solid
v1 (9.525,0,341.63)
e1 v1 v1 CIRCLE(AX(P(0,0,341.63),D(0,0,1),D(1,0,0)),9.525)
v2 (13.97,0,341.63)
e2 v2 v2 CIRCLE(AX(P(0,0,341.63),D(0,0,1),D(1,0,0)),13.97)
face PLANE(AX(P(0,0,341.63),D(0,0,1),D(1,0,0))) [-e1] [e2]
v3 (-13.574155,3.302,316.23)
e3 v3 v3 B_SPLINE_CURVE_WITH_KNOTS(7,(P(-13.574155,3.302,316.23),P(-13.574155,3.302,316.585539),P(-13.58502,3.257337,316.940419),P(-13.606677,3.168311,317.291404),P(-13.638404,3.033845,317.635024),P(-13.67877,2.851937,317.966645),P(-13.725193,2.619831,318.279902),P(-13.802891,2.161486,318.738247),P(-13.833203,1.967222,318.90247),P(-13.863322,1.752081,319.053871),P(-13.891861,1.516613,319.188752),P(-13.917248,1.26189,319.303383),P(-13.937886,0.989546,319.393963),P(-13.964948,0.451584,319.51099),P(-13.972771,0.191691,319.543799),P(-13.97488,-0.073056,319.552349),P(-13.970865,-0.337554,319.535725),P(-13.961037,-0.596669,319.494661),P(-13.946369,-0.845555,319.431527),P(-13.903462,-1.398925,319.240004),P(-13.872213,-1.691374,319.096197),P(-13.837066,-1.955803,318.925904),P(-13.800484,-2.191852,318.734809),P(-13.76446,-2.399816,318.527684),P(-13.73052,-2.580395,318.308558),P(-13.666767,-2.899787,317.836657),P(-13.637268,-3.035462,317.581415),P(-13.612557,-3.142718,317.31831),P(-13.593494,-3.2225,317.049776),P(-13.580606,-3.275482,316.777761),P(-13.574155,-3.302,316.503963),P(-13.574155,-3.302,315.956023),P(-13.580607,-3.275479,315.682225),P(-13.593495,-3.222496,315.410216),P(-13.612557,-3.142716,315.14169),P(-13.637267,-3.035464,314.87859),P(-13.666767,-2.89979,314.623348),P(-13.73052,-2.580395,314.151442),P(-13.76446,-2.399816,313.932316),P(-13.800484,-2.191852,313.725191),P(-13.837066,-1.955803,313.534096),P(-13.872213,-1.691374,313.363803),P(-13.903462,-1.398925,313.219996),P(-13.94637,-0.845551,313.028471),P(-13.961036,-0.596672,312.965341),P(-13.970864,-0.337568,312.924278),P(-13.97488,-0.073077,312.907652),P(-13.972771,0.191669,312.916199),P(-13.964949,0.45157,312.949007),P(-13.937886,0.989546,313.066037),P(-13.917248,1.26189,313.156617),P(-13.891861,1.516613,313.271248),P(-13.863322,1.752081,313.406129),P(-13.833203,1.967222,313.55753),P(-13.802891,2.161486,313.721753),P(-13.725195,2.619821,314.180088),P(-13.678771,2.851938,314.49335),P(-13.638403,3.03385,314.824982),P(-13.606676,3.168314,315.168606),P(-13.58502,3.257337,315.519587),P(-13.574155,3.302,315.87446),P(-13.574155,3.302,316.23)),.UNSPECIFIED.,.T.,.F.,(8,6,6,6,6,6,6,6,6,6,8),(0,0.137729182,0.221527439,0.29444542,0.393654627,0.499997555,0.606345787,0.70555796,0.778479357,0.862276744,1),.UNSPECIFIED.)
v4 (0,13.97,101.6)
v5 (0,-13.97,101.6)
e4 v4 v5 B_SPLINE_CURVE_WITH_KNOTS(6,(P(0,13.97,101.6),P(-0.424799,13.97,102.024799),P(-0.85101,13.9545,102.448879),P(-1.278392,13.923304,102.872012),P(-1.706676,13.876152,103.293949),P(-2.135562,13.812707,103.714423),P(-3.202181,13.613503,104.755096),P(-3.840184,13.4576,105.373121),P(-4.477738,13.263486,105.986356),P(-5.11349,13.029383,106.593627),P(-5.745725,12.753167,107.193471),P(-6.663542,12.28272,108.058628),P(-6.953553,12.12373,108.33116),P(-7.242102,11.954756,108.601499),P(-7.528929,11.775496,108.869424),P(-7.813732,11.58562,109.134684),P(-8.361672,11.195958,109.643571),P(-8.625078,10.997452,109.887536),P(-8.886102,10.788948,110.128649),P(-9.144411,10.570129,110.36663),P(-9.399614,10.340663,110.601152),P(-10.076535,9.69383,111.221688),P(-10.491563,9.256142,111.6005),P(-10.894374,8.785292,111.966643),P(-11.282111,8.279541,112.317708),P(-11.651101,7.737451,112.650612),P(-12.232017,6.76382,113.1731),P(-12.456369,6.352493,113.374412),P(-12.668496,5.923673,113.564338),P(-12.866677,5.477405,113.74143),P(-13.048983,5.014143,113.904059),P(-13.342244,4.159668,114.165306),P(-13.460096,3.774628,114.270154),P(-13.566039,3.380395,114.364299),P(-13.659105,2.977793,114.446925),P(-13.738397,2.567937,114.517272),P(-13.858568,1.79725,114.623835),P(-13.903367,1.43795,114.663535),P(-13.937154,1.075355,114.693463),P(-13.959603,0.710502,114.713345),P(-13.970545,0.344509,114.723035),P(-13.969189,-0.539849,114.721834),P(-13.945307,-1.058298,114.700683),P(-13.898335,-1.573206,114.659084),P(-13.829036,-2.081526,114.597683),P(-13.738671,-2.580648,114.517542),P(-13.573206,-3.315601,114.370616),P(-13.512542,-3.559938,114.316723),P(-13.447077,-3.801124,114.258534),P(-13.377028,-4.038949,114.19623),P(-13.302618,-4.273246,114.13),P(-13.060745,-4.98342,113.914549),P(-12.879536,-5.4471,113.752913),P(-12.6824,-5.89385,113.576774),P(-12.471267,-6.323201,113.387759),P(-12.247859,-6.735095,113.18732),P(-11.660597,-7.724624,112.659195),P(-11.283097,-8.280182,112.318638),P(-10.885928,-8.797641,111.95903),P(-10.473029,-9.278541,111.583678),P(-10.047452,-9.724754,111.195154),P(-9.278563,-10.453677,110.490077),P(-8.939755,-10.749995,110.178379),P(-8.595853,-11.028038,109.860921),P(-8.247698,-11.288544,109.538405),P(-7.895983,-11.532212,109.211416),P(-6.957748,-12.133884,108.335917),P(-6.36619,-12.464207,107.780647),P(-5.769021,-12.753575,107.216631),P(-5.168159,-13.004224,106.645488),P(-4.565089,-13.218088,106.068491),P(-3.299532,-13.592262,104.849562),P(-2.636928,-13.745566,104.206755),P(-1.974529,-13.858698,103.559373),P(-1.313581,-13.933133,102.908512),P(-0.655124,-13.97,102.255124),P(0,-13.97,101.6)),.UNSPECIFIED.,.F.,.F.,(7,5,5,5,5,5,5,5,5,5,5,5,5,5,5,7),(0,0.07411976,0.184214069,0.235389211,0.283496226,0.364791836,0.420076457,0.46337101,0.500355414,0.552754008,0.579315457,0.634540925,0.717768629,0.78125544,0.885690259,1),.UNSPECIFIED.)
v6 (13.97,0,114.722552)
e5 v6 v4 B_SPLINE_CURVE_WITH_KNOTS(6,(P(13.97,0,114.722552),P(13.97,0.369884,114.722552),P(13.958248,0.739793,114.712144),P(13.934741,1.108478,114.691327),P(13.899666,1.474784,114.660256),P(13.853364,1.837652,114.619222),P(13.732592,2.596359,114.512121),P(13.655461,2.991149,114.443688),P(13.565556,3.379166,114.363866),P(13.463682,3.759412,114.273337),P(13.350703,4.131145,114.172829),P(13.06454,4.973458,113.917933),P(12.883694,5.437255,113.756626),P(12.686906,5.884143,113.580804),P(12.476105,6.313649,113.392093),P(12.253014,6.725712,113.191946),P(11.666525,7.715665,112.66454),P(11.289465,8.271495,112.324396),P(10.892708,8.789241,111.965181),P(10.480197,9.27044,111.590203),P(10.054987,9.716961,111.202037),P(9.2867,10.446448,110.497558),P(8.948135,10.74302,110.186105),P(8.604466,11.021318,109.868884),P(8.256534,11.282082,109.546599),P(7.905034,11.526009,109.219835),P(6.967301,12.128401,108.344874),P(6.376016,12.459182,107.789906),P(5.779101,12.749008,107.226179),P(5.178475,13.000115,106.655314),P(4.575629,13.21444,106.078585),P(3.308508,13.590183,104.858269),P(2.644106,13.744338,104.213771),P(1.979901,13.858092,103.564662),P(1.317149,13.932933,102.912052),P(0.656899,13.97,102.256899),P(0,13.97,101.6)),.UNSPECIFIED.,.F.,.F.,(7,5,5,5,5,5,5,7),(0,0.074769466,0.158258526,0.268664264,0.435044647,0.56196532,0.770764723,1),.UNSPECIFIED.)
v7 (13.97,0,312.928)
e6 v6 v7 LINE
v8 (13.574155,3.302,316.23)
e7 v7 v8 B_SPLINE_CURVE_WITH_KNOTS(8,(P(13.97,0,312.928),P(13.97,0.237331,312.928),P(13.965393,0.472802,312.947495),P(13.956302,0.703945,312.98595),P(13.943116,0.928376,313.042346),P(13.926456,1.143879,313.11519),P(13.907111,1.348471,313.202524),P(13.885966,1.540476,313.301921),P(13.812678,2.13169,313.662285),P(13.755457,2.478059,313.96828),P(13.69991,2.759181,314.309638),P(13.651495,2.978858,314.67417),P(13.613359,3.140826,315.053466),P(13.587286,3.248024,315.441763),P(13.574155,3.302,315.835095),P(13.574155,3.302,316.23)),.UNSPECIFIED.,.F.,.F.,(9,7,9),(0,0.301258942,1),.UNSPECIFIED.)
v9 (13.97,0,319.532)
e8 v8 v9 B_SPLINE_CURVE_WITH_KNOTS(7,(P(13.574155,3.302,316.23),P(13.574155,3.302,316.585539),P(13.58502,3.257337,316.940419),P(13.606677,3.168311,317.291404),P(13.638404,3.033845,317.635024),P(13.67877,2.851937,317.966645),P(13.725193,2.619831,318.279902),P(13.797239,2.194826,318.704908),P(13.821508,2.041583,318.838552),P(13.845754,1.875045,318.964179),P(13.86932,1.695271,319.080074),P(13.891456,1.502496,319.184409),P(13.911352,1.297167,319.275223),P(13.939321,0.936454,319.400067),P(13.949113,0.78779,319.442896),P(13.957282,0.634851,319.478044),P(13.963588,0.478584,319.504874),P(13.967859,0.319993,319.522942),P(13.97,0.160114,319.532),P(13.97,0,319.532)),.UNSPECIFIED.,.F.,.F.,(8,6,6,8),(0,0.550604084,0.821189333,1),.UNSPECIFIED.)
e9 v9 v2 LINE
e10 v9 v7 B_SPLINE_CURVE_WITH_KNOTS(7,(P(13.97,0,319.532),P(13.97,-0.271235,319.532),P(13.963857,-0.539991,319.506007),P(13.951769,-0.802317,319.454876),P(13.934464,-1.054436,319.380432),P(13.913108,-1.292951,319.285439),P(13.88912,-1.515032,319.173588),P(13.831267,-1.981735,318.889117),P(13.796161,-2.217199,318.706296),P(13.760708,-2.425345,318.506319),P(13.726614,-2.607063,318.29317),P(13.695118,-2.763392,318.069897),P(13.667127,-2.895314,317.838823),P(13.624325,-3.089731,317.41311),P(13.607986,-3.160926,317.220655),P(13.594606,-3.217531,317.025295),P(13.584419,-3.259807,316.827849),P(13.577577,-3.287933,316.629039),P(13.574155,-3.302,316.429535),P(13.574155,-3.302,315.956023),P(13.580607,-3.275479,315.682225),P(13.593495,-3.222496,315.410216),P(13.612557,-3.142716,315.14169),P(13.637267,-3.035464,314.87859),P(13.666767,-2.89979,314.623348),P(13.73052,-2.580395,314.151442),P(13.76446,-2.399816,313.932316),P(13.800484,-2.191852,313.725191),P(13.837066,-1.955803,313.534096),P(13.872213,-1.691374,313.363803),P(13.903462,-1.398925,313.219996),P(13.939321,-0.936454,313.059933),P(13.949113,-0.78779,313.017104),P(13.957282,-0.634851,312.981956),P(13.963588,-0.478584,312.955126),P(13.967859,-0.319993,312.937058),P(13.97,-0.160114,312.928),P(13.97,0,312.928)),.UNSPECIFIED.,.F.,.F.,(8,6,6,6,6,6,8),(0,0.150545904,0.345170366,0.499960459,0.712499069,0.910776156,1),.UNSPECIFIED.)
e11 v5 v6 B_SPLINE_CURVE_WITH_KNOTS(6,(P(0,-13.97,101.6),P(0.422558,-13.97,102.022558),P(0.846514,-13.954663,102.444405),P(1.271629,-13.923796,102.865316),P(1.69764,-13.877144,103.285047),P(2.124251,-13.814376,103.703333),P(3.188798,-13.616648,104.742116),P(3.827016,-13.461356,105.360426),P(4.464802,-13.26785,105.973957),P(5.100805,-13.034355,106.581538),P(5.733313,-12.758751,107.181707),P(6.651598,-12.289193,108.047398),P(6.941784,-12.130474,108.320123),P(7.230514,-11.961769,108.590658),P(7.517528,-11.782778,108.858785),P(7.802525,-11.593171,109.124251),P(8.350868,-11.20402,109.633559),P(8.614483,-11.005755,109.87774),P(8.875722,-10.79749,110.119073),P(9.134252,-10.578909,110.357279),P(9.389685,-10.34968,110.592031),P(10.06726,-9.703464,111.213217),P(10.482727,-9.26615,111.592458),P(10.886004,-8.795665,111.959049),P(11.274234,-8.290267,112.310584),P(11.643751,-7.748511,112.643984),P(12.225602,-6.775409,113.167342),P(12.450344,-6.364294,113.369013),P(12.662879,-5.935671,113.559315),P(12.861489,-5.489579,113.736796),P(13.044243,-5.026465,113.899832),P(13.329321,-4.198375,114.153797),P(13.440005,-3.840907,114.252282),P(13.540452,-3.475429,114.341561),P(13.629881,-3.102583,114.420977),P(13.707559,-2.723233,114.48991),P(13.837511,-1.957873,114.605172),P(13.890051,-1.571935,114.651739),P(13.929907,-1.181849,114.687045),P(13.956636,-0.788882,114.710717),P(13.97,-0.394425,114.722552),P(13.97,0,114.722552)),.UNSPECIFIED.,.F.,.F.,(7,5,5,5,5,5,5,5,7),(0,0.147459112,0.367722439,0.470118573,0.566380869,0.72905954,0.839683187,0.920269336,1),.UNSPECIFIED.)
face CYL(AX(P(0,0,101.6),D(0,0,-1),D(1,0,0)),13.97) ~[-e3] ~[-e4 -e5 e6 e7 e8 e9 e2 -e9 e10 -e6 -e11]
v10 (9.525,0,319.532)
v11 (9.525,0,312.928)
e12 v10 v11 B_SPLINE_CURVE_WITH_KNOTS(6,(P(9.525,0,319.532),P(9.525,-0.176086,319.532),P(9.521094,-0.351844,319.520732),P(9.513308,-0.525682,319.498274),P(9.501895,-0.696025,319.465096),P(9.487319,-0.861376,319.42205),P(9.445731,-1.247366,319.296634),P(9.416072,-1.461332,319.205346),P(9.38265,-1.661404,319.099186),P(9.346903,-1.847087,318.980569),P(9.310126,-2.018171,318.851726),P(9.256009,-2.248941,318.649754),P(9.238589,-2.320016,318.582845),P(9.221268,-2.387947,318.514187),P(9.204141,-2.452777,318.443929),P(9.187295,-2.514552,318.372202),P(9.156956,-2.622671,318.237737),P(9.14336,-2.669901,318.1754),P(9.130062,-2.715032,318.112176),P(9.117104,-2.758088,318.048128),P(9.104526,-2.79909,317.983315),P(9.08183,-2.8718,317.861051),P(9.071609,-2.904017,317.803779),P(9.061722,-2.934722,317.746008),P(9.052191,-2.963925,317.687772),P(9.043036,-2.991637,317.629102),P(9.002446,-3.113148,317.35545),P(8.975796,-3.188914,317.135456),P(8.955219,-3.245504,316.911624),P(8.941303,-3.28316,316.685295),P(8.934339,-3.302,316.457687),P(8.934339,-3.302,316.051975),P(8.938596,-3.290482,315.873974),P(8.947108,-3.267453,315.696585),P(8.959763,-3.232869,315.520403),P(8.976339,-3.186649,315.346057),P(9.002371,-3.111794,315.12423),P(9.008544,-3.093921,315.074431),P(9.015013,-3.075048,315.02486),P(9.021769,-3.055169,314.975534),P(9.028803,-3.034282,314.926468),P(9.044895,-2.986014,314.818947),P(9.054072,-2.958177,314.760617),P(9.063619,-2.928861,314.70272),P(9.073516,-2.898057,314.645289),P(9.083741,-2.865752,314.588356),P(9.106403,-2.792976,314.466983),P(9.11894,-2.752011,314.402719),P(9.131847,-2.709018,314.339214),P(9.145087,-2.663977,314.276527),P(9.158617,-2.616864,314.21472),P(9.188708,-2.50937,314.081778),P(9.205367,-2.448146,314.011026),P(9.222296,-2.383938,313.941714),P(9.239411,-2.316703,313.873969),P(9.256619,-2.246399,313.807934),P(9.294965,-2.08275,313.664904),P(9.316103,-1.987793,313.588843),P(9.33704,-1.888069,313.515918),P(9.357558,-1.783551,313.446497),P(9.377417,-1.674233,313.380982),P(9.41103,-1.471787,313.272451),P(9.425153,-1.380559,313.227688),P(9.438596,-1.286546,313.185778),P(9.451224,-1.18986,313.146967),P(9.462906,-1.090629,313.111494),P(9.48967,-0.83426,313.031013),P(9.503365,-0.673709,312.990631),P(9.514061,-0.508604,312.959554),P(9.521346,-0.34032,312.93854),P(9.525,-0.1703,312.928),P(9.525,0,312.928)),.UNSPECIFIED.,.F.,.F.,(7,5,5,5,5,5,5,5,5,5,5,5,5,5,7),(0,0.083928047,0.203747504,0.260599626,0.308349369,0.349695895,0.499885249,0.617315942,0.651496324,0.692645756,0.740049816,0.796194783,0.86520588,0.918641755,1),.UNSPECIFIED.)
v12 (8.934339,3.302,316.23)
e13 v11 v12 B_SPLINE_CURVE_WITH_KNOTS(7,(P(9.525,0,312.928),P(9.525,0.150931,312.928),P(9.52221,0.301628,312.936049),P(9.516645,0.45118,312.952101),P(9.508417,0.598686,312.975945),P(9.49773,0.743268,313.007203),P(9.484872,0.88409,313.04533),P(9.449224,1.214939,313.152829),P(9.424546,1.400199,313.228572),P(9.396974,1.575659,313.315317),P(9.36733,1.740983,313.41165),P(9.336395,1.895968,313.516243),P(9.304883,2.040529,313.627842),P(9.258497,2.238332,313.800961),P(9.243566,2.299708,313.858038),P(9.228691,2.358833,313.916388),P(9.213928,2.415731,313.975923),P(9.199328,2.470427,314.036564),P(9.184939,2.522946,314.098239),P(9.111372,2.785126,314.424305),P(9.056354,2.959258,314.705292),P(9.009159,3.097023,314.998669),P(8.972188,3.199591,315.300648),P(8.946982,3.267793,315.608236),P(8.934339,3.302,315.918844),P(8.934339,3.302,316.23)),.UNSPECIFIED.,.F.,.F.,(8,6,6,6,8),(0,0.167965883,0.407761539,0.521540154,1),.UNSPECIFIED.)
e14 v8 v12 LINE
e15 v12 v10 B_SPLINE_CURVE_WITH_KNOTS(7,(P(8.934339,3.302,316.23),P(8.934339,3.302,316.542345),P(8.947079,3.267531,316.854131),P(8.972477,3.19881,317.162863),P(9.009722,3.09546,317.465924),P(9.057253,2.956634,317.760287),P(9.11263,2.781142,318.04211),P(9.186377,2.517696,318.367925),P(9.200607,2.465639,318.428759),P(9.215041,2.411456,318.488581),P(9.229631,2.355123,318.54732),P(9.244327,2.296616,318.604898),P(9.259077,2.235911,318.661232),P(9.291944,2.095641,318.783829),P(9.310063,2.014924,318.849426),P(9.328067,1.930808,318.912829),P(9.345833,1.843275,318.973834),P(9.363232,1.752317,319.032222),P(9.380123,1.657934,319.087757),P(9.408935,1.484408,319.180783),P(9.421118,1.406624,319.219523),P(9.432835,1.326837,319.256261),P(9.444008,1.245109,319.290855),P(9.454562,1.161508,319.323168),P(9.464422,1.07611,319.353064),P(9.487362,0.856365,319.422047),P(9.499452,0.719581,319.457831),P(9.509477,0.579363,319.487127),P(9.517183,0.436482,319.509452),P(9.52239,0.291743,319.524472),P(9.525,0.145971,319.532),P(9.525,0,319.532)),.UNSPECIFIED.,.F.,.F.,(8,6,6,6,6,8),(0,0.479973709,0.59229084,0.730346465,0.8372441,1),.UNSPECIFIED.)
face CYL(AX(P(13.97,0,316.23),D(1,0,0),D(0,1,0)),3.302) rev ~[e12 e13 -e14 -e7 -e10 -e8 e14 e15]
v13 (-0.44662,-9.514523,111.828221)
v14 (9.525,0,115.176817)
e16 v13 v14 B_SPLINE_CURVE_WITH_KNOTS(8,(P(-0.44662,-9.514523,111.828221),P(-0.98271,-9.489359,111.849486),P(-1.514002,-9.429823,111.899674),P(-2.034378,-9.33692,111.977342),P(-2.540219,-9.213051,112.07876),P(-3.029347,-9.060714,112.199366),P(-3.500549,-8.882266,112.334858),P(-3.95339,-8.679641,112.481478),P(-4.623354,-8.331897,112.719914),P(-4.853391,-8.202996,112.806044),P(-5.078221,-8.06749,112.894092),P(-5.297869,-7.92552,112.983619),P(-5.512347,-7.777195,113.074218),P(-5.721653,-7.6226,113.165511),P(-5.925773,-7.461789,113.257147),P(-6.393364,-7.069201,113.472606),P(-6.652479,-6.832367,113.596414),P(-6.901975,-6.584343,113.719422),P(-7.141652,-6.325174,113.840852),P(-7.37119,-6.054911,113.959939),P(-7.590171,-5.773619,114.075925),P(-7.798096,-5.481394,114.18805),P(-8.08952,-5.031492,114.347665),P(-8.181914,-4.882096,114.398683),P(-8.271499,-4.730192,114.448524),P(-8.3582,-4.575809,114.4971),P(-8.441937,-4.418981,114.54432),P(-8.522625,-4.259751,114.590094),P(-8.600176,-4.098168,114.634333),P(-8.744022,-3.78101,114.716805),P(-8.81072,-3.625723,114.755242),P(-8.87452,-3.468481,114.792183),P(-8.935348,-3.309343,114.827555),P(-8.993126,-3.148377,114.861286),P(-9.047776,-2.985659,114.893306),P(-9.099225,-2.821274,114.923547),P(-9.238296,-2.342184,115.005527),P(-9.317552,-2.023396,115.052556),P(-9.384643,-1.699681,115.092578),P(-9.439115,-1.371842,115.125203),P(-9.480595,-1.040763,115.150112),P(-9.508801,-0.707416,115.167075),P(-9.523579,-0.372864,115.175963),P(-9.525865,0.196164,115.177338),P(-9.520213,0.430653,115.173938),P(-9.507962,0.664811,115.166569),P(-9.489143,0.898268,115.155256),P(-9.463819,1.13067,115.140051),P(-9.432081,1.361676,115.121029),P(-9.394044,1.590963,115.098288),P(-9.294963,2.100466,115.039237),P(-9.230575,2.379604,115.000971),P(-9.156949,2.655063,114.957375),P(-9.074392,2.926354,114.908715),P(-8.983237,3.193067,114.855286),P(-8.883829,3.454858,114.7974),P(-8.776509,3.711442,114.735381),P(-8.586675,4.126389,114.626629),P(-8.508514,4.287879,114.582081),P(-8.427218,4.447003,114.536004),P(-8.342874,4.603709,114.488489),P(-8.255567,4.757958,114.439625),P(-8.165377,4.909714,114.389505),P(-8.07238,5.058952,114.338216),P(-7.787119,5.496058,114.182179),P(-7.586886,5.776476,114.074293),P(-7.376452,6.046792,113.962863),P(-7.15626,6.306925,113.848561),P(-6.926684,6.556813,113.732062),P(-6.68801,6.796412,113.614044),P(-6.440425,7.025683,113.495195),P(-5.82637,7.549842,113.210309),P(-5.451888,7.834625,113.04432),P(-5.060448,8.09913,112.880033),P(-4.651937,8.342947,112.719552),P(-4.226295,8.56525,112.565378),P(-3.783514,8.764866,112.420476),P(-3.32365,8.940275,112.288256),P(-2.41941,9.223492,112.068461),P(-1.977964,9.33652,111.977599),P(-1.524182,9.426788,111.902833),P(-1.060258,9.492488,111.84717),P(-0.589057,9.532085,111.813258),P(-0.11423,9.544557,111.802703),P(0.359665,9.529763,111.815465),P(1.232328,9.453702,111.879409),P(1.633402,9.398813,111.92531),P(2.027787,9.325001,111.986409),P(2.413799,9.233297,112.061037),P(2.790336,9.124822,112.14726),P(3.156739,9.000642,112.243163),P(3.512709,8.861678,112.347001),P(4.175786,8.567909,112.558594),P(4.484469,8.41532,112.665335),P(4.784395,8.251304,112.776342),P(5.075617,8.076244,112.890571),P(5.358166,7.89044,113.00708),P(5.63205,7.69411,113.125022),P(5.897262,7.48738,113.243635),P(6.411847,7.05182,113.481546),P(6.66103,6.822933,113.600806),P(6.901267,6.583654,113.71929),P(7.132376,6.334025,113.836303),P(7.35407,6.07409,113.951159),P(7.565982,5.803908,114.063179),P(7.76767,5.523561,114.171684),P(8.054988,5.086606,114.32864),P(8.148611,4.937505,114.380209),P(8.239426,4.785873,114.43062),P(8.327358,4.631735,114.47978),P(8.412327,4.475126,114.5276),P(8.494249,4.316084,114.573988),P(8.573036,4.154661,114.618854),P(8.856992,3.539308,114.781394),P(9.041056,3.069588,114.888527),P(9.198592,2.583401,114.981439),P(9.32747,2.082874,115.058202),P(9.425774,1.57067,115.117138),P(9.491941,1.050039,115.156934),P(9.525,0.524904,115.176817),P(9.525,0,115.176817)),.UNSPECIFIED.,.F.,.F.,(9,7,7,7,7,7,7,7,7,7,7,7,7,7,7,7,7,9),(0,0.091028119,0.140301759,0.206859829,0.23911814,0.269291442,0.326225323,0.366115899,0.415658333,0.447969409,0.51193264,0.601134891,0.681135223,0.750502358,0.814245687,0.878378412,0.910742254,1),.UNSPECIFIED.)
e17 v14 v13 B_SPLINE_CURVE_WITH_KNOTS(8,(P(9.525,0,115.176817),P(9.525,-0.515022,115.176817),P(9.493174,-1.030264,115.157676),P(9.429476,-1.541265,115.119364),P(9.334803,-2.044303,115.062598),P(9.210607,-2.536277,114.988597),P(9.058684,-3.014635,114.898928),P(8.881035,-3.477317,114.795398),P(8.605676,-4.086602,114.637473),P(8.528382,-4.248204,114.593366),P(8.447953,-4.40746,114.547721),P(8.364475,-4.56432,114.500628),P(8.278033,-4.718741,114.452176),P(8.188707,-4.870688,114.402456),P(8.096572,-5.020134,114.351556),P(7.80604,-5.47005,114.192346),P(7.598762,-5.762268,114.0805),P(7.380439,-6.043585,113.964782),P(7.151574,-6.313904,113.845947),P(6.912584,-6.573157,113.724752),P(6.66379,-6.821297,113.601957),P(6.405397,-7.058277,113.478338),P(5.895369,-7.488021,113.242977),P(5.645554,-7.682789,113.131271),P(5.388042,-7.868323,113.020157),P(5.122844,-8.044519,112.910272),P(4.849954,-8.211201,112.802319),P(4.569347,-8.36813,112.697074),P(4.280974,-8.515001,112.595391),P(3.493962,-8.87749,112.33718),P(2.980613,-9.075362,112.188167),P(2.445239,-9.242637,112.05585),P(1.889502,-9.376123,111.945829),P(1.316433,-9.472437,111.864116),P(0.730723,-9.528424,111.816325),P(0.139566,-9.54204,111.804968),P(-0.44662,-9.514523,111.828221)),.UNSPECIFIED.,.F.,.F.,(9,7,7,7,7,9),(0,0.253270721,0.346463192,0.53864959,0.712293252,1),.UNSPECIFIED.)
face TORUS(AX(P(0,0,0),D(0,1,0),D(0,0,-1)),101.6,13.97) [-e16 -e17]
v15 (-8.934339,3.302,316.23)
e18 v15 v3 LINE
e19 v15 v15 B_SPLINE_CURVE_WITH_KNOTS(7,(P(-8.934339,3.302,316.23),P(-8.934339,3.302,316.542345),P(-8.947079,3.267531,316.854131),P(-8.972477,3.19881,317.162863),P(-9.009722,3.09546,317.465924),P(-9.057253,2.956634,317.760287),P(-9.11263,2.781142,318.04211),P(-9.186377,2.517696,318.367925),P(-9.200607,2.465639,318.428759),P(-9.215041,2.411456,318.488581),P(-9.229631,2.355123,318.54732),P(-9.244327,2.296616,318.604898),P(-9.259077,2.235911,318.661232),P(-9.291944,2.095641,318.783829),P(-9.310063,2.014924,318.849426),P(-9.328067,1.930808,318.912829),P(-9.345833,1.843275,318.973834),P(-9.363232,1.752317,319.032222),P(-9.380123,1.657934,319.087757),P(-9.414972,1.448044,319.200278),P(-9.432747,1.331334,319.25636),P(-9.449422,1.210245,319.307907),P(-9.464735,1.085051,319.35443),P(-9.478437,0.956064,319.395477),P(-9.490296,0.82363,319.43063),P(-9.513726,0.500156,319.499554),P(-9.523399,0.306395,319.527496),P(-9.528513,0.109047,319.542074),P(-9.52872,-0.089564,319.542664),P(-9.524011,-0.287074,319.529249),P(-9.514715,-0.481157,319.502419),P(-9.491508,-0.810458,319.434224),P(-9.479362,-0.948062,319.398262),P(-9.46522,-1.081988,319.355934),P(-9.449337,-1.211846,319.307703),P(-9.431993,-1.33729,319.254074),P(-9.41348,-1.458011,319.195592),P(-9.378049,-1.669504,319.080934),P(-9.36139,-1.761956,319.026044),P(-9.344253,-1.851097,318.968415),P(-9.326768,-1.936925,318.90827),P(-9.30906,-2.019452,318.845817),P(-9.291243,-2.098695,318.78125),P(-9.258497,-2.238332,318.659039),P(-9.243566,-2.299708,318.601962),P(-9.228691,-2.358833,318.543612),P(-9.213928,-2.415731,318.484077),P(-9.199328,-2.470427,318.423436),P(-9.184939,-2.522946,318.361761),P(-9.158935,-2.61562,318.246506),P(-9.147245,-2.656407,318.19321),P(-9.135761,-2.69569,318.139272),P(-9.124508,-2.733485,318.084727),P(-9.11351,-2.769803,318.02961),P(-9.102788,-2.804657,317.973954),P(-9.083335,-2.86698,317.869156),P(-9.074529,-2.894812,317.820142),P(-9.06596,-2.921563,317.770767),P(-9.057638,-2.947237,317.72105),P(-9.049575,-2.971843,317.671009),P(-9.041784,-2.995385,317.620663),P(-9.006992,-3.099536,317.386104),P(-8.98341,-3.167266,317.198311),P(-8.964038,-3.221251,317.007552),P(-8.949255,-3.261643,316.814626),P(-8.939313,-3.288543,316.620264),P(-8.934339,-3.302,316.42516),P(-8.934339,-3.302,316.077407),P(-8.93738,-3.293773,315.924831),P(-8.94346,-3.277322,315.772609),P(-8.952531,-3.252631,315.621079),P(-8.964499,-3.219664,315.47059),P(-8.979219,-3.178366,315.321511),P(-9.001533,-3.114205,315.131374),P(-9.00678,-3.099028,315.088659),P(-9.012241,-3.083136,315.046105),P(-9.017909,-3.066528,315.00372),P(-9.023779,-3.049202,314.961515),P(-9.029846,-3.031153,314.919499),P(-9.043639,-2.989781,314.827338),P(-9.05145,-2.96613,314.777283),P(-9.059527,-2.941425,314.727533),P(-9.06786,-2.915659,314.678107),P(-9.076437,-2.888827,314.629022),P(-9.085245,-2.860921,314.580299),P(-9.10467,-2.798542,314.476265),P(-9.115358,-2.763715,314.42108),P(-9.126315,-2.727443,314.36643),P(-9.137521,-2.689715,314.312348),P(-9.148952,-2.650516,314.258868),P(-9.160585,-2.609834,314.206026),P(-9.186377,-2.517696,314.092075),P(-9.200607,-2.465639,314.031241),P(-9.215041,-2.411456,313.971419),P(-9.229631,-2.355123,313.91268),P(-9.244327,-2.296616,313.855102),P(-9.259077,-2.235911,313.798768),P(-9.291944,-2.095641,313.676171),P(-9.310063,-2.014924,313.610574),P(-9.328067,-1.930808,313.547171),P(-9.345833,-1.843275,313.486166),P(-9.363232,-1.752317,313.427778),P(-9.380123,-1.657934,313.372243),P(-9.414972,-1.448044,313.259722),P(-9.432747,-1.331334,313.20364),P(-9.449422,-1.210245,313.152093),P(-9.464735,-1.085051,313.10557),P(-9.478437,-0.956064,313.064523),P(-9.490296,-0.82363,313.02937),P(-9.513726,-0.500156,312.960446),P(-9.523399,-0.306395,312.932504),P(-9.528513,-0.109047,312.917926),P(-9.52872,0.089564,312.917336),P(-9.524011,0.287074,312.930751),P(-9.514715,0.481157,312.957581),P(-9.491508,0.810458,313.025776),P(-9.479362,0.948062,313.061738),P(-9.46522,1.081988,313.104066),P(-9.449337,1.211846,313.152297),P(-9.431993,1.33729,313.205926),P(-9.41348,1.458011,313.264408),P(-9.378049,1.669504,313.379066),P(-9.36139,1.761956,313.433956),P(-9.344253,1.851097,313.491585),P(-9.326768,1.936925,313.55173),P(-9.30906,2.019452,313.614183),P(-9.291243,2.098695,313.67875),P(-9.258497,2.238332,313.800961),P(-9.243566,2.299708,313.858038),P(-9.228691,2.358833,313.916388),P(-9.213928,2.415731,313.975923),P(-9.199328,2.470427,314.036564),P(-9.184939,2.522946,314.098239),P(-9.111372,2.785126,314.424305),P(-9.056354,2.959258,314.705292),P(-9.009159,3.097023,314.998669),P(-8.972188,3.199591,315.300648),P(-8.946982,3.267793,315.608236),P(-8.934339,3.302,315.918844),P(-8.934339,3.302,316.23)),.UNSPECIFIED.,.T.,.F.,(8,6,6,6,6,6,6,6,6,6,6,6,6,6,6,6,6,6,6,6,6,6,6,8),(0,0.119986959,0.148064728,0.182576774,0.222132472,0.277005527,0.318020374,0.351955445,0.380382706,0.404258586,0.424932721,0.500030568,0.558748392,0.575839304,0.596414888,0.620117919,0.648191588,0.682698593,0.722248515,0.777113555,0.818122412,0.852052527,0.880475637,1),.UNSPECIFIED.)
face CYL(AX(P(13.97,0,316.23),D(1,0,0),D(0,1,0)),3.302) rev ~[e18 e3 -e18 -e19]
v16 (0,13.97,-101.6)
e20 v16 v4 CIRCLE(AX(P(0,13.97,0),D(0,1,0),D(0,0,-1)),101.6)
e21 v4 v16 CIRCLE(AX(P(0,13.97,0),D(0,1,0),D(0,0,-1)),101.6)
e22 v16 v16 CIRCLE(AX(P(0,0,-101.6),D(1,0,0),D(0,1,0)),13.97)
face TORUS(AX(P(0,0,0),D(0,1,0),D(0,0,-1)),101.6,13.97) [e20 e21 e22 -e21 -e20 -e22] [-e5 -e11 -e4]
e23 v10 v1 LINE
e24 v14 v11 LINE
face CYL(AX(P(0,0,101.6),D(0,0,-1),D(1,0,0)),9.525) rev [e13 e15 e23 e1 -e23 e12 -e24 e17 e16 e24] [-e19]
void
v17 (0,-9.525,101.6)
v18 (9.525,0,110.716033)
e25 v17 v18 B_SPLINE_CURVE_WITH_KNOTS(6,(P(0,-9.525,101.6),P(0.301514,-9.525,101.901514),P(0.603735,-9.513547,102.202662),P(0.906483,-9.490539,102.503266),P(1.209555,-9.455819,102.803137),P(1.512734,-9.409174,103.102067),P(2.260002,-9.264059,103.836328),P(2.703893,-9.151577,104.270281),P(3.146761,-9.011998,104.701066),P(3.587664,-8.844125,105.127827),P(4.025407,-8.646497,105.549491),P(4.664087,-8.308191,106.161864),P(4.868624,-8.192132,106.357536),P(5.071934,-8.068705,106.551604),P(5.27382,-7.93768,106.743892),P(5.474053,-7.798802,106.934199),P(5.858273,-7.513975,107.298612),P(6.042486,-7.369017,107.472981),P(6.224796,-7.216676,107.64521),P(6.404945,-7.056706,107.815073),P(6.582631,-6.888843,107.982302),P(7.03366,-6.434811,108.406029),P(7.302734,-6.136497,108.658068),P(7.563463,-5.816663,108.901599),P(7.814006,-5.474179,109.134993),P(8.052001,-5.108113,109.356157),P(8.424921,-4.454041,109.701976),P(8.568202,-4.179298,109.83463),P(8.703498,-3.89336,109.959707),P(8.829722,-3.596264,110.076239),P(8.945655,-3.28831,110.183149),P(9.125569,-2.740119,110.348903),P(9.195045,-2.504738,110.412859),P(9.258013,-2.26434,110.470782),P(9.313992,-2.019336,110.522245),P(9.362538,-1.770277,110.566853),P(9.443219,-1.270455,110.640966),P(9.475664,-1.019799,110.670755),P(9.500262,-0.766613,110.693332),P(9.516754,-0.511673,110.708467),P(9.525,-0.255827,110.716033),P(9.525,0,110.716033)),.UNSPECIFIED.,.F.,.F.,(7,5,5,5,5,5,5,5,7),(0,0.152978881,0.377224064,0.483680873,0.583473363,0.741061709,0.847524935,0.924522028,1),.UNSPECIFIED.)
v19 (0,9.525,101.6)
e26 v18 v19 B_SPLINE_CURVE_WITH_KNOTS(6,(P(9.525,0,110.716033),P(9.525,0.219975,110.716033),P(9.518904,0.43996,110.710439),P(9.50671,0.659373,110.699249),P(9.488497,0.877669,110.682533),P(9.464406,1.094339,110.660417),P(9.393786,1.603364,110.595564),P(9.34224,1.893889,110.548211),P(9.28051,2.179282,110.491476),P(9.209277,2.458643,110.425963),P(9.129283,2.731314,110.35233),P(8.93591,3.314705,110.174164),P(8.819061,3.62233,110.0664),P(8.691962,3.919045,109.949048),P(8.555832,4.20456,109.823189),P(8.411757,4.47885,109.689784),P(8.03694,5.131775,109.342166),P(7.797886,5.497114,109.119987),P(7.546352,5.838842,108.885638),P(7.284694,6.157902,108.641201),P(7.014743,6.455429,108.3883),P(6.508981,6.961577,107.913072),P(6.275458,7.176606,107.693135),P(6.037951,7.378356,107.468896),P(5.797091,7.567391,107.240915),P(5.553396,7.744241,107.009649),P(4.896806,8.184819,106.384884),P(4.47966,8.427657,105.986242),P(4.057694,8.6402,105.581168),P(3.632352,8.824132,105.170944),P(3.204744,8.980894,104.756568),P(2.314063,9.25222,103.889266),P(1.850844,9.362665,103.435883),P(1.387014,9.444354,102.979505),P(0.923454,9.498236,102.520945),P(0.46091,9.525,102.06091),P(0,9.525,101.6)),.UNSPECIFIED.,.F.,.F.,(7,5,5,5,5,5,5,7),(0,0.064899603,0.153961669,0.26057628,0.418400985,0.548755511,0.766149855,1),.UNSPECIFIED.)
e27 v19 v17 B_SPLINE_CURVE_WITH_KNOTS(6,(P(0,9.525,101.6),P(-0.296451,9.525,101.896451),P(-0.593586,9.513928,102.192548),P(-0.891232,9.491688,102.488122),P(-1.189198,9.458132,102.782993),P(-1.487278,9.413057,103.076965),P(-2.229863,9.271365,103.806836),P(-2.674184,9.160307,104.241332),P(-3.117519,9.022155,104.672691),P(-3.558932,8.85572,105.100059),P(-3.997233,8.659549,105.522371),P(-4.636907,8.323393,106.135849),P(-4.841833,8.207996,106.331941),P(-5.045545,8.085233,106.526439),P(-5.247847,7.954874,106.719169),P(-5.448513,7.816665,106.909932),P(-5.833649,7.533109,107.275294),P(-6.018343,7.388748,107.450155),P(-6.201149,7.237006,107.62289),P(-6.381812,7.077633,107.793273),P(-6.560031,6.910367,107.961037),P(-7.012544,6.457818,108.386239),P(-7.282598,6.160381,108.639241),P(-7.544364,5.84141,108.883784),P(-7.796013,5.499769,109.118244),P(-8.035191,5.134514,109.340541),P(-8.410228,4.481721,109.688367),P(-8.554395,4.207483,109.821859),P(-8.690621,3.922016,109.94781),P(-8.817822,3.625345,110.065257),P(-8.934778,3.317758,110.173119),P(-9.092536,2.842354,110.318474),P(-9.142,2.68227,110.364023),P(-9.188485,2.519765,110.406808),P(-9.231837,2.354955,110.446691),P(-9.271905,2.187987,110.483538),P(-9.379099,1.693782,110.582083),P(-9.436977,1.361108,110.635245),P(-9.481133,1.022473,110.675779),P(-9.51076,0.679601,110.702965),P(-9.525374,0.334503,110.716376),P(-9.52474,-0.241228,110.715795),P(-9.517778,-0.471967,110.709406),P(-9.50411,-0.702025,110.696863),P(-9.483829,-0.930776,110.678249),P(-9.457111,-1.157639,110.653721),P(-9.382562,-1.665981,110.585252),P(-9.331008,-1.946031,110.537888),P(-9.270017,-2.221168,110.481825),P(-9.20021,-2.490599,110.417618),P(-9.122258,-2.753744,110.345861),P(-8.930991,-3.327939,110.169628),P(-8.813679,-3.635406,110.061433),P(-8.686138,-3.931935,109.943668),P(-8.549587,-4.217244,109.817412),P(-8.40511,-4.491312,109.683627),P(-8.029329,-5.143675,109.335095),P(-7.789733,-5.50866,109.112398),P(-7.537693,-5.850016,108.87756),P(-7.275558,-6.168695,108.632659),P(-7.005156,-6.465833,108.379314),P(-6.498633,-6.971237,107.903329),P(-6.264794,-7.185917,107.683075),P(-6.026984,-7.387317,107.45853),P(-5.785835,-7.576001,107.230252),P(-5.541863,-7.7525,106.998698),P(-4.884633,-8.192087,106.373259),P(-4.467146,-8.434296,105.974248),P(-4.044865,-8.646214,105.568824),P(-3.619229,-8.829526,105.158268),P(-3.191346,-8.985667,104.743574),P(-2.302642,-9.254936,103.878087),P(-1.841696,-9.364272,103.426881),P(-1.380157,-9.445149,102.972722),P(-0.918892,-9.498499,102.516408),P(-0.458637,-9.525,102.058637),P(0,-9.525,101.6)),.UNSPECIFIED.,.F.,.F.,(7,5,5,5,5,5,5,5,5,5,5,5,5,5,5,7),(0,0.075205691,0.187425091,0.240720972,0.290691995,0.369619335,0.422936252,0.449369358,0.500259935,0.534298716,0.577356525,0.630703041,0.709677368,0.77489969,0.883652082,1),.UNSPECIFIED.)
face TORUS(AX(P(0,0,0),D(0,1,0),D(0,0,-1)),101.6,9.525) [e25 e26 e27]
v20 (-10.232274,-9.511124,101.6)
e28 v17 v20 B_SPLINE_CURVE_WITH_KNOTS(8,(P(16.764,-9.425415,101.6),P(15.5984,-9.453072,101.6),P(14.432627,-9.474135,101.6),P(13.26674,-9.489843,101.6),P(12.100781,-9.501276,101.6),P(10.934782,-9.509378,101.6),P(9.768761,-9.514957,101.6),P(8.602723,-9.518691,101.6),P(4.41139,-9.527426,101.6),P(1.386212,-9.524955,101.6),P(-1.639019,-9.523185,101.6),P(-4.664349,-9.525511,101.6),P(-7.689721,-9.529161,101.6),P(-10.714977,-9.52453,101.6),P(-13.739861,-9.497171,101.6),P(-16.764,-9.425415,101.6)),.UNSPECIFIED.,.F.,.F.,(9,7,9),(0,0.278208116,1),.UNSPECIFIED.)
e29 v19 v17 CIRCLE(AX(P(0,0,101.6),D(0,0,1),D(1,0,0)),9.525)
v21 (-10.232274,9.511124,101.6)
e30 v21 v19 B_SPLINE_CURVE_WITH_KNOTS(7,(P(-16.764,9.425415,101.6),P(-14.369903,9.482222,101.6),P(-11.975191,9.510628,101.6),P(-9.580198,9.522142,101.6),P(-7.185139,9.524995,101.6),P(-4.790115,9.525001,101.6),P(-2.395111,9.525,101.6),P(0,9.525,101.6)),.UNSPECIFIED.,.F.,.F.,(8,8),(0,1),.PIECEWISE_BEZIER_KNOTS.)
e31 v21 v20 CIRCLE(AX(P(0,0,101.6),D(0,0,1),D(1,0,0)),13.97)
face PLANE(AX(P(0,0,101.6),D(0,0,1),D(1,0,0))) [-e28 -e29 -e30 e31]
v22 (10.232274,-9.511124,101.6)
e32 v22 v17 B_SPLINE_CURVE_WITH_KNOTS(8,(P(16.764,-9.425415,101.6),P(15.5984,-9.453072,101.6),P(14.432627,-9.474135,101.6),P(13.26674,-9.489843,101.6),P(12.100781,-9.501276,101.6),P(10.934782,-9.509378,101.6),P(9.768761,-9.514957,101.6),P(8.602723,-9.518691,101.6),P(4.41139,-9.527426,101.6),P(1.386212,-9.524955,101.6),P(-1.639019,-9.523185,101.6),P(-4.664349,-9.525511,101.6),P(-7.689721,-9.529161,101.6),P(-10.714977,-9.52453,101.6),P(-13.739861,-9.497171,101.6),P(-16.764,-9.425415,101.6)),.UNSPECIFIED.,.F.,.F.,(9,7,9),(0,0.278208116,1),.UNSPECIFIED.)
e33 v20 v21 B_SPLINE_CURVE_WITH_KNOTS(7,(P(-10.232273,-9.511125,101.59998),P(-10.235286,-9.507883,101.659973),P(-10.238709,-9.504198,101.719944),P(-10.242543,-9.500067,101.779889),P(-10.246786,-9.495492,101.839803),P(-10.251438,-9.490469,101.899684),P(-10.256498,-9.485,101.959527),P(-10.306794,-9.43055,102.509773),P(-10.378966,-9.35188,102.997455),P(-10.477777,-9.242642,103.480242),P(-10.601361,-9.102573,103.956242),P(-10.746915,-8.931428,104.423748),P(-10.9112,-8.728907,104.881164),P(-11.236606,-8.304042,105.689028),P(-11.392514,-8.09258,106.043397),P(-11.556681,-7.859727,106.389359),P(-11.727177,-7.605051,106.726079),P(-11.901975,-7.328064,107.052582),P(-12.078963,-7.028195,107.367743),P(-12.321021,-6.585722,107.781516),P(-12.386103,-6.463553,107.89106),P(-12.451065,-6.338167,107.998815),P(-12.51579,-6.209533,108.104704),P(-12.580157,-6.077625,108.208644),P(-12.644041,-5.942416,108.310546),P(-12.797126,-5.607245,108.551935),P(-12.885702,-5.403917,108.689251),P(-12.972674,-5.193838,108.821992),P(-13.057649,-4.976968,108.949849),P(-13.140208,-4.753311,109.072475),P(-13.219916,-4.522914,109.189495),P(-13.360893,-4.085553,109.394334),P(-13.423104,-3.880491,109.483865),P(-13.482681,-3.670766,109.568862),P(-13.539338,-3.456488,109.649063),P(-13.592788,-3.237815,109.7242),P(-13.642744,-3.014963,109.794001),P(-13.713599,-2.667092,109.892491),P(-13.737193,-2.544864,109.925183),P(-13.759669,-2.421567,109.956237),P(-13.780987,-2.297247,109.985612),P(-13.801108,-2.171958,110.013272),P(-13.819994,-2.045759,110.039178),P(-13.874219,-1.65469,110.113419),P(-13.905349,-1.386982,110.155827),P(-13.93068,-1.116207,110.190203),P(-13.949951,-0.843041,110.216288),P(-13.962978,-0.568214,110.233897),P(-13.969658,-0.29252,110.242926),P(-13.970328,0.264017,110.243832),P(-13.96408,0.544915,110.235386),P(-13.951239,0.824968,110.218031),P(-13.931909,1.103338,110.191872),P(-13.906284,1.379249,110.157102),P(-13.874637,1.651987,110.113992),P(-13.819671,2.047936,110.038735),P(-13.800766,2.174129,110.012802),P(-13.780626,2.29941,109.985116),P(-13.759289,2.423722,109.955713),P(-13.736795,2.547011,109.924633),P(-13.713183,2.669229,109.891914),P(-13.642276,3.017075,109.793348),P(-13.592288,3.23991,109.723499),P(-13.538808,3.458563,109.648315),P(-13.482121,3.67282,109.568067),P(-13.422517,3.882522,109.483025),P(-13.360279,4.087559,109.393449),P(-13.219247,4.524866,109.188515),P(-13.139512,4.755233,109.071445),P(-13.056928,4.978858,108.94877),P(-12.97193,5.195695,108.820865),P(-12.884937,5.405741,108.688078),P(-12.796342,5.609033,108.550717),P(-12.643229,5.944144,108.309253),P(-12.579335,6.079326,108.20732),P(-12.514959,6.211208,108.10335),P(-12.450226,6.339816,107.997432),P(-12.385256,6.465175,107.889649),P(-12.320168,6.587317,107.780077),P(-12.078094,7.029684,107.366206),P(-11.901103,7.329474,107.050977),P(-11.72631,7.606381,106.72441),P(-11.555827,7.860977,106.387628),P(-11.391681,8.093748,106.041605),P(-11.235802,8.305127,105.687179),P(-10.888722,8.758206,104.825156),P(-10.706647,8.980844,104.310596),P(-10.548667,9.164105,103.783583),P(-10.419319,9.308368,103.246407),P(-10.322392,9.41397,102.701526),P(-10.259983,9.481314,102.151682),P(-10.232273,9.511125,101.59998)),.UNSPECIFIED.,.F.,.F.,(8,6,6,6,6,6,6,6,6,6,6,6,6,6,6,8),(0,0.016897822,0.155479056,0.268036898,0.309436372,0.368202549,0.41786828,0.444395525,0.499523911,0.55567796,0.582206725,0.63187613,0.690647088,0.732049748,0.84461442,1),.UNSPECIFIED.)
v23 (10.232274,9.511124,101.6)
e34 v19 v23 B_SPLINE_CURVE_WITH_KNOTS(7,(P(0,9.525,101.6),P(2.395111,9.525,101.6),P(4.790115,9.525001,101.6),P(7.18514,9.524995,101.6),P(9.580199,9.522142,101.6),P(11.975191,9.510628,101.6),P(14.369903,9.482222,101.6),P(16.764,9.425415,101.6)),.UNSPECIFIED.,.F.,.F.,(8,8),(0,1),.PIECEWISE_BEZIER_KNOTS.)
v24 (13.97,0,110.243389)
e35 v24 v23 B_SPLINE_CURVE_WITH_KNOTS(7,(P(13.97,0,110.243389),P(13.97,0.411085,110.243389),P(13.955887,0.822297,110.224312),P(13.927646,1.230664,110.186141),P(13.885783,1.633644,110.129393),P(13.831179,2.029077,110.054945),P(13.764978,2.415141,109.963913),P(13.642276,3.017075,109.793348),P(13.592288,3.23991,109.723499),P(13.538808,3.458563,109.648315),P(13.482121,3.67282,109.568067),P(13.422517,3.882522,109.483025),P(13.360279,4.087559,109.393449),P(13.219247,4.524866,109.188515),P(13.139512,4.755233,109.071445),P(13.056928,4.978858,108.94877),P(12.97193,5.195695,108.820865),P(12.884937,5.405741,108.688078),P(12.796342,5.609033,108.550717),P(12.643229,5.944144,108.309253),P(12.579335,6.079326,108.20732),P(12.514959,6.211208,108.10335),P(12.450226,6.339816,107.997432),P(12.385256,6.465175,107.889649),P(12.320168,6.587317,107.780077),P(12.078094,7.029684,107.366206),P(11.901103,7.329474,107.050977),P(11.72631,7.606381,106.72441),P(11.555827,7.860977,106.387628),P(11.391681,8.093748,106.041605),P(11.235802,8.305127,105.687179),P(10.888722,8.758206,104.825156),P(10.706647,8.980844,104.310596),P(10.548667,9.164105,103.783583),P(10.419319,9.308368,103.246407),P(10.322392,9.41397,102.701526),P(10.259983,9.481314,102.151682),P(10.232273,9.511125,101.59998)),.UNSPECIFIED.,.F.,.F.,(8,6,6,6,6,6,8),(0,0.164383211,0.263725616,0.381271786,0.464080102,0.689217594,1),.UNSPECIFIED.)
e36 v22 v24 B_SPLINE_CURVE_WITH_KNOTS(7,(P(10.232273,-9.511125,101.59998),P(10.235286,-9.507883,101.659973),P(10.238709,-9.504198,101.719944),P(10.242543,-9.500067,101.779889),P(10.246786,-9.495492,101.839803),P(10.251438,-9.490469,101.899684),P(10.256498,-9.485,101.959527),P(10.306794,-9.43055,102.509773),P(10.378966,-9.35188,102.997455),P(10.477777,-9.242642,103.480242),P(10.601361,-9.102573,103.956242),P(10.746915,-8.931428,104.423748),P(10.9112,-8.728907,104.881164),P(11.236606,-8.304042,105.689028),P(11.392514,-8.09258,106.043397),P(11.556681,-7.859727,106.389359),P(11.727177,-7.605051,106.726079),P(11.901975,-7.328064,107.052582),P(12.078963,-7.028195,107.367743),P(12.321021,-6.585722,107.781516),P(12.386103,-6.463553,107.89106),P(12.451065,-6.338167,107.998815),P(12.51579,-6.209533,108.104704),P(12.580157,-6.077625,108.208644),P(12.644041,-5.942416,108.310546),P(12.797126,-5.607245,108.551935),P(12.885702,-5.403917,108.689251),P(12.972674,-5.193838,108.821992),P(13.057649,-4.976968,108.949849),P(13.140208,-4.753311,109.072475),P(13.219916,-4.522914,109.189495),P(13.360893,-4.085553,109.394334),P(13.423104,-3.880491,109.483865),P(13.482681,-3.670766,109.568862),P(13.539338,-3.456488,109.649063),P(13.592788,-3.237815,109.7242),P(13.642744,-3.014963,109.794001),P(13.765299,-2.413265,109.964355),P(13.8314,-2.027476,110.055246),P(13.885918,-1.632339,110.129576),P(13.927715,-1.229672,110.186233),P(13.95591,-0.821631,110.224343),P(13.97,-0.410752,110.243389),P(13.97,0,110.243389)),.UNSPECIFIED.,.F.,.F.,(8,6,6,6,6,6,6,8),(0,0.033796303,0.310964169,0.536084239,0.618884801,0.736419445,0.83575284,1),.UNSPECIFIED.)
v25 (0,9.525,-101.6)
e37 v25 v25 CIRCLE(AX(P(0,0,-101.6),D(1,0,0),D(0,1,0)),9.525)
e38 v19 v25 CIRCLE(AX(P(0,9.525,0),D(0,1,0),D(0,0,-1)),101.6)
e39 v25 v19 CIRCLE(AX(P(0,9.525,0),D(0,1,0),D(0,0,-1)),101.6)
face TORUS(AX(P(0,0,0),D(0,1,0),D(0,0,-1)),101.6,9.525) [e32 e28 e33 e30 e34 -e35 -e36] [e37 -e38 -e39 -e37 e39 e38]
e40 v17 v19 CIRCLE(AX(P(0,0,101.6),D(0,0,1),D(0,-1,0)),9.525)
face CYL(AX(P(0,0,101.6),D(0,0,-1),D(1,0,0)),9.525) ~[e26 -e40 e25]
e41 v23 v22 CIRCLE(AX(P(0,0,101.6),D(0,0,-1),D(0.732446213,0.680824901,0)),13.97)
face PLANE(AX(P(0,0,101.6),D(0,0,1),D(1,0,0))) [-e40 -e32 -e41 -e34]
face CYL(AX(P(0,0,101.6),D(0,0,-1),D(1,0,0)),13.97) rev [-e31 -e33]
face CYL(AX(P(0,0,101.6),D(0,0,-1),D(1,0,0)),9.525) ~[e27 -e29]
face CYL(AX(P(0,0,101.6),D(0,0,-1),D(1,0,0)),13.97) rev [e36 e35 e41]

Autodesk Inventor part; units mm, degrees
ref_plane "XZ Plane" through (0, 0, 0) normal (0, 1, 0) x (-1, 0, 0)
sketch "Sketch3" plane through (0, 0, 0) normal (1, 0, 0) x (0, 1, 0)
  circle A0 centre (0, -101.6) radius 13.97
  line L0 (-19.558, 0) -> (19.558, 0) projected
  circle A1 centre (0, -101.6) radius 9.525
  point P0 (0, 0)
  dimension "d6" = 27.94
  dimension "d7" = 101.6
  dimension "d13" = 19.05
revolve "Revolution3" add sketch "Sketch3" angle 360 about axis through (0, -10, 0) along (0, 1, 0)
ref_plane "Work Plane3" through (0, 0, 101.6) normal (0, 0, 1) x (1, 0, 0)
sketch "Sketch5" plane through (0, 0, 101.6) normal (0, 0, 1) x (1, 0, 0)
  circle A0 centre (0, 0) radius 13.97
  circle A1 centre (0, 0) radius 9.525
  dimension "d17" = 27.94
  dimension "d18" = 19.05
extrude "Extrusion2" add sketch "Sketch5" along normal blind 240.03
ref_plane "Work Plane4" through (13.97, 0, 101.6) normal (1, 0, 0) x (0, 1, 0)
sketch "Sketch6" plane through (13.97, 0, 101.6) normal (1, 0, 0) x (0, 1, 0)
  circle A0 centre (0, 214.63) radius 3.302
  line L0 (13.97, 240.03) -> (-13.97, 240.03) projected
  point P0 (0, -101.6)
  dimension "d21" = 6.604
  dimension "d22" = 25.4
extrude "Extrusion3" cut sketch "Sketch6" against normal through all
equation "\"d6\" = ballHolderPipeOutsideDiam"
equation "\"d7\" = ballHolderLoopRadius"
equation "\"d13\" = ballHolderPipeInsideDiam"
equation "\"d17\" = ballHolderPipeOutsideDiam"
equation "\"d18\" = ballHolderPipeInsideDiam"
equation "\"d19\" = ballHolderLoopHandleLength"
equation "\"d21\" = ballHolderAxelDiam"
equation "\"d22\" = ballHolderAxelDistanceFromEnd"
equation "\"d23\" = ballHolderLoopHandleLength"
equation "\"ballHolderLoopDiam\" = 203.2"
equation "\"xxx\" = 0.5 * ballHolderLoopDiam + ballHolderLoopHandleLength"
equation "\"ballHolderPipeInsideDiam\" = 19.05"
equation "\"ballHolderPipeOutsideDiam\" = 27.94"
equation "\"ballHolderLoopRadius\" = 0.5 * ballHolderLoopDiam"
equation "\"d16\" = ballHolderLoopRadius"
equation "\"ballHolderAxelDiam\" = 6.604"
equation "\"ballHolderAxelDistanceFromEnd\" = 25.4"
equation "\"ballHolderLoopHandleLength\" = 240.03"
properties part number "catapultLoop"
